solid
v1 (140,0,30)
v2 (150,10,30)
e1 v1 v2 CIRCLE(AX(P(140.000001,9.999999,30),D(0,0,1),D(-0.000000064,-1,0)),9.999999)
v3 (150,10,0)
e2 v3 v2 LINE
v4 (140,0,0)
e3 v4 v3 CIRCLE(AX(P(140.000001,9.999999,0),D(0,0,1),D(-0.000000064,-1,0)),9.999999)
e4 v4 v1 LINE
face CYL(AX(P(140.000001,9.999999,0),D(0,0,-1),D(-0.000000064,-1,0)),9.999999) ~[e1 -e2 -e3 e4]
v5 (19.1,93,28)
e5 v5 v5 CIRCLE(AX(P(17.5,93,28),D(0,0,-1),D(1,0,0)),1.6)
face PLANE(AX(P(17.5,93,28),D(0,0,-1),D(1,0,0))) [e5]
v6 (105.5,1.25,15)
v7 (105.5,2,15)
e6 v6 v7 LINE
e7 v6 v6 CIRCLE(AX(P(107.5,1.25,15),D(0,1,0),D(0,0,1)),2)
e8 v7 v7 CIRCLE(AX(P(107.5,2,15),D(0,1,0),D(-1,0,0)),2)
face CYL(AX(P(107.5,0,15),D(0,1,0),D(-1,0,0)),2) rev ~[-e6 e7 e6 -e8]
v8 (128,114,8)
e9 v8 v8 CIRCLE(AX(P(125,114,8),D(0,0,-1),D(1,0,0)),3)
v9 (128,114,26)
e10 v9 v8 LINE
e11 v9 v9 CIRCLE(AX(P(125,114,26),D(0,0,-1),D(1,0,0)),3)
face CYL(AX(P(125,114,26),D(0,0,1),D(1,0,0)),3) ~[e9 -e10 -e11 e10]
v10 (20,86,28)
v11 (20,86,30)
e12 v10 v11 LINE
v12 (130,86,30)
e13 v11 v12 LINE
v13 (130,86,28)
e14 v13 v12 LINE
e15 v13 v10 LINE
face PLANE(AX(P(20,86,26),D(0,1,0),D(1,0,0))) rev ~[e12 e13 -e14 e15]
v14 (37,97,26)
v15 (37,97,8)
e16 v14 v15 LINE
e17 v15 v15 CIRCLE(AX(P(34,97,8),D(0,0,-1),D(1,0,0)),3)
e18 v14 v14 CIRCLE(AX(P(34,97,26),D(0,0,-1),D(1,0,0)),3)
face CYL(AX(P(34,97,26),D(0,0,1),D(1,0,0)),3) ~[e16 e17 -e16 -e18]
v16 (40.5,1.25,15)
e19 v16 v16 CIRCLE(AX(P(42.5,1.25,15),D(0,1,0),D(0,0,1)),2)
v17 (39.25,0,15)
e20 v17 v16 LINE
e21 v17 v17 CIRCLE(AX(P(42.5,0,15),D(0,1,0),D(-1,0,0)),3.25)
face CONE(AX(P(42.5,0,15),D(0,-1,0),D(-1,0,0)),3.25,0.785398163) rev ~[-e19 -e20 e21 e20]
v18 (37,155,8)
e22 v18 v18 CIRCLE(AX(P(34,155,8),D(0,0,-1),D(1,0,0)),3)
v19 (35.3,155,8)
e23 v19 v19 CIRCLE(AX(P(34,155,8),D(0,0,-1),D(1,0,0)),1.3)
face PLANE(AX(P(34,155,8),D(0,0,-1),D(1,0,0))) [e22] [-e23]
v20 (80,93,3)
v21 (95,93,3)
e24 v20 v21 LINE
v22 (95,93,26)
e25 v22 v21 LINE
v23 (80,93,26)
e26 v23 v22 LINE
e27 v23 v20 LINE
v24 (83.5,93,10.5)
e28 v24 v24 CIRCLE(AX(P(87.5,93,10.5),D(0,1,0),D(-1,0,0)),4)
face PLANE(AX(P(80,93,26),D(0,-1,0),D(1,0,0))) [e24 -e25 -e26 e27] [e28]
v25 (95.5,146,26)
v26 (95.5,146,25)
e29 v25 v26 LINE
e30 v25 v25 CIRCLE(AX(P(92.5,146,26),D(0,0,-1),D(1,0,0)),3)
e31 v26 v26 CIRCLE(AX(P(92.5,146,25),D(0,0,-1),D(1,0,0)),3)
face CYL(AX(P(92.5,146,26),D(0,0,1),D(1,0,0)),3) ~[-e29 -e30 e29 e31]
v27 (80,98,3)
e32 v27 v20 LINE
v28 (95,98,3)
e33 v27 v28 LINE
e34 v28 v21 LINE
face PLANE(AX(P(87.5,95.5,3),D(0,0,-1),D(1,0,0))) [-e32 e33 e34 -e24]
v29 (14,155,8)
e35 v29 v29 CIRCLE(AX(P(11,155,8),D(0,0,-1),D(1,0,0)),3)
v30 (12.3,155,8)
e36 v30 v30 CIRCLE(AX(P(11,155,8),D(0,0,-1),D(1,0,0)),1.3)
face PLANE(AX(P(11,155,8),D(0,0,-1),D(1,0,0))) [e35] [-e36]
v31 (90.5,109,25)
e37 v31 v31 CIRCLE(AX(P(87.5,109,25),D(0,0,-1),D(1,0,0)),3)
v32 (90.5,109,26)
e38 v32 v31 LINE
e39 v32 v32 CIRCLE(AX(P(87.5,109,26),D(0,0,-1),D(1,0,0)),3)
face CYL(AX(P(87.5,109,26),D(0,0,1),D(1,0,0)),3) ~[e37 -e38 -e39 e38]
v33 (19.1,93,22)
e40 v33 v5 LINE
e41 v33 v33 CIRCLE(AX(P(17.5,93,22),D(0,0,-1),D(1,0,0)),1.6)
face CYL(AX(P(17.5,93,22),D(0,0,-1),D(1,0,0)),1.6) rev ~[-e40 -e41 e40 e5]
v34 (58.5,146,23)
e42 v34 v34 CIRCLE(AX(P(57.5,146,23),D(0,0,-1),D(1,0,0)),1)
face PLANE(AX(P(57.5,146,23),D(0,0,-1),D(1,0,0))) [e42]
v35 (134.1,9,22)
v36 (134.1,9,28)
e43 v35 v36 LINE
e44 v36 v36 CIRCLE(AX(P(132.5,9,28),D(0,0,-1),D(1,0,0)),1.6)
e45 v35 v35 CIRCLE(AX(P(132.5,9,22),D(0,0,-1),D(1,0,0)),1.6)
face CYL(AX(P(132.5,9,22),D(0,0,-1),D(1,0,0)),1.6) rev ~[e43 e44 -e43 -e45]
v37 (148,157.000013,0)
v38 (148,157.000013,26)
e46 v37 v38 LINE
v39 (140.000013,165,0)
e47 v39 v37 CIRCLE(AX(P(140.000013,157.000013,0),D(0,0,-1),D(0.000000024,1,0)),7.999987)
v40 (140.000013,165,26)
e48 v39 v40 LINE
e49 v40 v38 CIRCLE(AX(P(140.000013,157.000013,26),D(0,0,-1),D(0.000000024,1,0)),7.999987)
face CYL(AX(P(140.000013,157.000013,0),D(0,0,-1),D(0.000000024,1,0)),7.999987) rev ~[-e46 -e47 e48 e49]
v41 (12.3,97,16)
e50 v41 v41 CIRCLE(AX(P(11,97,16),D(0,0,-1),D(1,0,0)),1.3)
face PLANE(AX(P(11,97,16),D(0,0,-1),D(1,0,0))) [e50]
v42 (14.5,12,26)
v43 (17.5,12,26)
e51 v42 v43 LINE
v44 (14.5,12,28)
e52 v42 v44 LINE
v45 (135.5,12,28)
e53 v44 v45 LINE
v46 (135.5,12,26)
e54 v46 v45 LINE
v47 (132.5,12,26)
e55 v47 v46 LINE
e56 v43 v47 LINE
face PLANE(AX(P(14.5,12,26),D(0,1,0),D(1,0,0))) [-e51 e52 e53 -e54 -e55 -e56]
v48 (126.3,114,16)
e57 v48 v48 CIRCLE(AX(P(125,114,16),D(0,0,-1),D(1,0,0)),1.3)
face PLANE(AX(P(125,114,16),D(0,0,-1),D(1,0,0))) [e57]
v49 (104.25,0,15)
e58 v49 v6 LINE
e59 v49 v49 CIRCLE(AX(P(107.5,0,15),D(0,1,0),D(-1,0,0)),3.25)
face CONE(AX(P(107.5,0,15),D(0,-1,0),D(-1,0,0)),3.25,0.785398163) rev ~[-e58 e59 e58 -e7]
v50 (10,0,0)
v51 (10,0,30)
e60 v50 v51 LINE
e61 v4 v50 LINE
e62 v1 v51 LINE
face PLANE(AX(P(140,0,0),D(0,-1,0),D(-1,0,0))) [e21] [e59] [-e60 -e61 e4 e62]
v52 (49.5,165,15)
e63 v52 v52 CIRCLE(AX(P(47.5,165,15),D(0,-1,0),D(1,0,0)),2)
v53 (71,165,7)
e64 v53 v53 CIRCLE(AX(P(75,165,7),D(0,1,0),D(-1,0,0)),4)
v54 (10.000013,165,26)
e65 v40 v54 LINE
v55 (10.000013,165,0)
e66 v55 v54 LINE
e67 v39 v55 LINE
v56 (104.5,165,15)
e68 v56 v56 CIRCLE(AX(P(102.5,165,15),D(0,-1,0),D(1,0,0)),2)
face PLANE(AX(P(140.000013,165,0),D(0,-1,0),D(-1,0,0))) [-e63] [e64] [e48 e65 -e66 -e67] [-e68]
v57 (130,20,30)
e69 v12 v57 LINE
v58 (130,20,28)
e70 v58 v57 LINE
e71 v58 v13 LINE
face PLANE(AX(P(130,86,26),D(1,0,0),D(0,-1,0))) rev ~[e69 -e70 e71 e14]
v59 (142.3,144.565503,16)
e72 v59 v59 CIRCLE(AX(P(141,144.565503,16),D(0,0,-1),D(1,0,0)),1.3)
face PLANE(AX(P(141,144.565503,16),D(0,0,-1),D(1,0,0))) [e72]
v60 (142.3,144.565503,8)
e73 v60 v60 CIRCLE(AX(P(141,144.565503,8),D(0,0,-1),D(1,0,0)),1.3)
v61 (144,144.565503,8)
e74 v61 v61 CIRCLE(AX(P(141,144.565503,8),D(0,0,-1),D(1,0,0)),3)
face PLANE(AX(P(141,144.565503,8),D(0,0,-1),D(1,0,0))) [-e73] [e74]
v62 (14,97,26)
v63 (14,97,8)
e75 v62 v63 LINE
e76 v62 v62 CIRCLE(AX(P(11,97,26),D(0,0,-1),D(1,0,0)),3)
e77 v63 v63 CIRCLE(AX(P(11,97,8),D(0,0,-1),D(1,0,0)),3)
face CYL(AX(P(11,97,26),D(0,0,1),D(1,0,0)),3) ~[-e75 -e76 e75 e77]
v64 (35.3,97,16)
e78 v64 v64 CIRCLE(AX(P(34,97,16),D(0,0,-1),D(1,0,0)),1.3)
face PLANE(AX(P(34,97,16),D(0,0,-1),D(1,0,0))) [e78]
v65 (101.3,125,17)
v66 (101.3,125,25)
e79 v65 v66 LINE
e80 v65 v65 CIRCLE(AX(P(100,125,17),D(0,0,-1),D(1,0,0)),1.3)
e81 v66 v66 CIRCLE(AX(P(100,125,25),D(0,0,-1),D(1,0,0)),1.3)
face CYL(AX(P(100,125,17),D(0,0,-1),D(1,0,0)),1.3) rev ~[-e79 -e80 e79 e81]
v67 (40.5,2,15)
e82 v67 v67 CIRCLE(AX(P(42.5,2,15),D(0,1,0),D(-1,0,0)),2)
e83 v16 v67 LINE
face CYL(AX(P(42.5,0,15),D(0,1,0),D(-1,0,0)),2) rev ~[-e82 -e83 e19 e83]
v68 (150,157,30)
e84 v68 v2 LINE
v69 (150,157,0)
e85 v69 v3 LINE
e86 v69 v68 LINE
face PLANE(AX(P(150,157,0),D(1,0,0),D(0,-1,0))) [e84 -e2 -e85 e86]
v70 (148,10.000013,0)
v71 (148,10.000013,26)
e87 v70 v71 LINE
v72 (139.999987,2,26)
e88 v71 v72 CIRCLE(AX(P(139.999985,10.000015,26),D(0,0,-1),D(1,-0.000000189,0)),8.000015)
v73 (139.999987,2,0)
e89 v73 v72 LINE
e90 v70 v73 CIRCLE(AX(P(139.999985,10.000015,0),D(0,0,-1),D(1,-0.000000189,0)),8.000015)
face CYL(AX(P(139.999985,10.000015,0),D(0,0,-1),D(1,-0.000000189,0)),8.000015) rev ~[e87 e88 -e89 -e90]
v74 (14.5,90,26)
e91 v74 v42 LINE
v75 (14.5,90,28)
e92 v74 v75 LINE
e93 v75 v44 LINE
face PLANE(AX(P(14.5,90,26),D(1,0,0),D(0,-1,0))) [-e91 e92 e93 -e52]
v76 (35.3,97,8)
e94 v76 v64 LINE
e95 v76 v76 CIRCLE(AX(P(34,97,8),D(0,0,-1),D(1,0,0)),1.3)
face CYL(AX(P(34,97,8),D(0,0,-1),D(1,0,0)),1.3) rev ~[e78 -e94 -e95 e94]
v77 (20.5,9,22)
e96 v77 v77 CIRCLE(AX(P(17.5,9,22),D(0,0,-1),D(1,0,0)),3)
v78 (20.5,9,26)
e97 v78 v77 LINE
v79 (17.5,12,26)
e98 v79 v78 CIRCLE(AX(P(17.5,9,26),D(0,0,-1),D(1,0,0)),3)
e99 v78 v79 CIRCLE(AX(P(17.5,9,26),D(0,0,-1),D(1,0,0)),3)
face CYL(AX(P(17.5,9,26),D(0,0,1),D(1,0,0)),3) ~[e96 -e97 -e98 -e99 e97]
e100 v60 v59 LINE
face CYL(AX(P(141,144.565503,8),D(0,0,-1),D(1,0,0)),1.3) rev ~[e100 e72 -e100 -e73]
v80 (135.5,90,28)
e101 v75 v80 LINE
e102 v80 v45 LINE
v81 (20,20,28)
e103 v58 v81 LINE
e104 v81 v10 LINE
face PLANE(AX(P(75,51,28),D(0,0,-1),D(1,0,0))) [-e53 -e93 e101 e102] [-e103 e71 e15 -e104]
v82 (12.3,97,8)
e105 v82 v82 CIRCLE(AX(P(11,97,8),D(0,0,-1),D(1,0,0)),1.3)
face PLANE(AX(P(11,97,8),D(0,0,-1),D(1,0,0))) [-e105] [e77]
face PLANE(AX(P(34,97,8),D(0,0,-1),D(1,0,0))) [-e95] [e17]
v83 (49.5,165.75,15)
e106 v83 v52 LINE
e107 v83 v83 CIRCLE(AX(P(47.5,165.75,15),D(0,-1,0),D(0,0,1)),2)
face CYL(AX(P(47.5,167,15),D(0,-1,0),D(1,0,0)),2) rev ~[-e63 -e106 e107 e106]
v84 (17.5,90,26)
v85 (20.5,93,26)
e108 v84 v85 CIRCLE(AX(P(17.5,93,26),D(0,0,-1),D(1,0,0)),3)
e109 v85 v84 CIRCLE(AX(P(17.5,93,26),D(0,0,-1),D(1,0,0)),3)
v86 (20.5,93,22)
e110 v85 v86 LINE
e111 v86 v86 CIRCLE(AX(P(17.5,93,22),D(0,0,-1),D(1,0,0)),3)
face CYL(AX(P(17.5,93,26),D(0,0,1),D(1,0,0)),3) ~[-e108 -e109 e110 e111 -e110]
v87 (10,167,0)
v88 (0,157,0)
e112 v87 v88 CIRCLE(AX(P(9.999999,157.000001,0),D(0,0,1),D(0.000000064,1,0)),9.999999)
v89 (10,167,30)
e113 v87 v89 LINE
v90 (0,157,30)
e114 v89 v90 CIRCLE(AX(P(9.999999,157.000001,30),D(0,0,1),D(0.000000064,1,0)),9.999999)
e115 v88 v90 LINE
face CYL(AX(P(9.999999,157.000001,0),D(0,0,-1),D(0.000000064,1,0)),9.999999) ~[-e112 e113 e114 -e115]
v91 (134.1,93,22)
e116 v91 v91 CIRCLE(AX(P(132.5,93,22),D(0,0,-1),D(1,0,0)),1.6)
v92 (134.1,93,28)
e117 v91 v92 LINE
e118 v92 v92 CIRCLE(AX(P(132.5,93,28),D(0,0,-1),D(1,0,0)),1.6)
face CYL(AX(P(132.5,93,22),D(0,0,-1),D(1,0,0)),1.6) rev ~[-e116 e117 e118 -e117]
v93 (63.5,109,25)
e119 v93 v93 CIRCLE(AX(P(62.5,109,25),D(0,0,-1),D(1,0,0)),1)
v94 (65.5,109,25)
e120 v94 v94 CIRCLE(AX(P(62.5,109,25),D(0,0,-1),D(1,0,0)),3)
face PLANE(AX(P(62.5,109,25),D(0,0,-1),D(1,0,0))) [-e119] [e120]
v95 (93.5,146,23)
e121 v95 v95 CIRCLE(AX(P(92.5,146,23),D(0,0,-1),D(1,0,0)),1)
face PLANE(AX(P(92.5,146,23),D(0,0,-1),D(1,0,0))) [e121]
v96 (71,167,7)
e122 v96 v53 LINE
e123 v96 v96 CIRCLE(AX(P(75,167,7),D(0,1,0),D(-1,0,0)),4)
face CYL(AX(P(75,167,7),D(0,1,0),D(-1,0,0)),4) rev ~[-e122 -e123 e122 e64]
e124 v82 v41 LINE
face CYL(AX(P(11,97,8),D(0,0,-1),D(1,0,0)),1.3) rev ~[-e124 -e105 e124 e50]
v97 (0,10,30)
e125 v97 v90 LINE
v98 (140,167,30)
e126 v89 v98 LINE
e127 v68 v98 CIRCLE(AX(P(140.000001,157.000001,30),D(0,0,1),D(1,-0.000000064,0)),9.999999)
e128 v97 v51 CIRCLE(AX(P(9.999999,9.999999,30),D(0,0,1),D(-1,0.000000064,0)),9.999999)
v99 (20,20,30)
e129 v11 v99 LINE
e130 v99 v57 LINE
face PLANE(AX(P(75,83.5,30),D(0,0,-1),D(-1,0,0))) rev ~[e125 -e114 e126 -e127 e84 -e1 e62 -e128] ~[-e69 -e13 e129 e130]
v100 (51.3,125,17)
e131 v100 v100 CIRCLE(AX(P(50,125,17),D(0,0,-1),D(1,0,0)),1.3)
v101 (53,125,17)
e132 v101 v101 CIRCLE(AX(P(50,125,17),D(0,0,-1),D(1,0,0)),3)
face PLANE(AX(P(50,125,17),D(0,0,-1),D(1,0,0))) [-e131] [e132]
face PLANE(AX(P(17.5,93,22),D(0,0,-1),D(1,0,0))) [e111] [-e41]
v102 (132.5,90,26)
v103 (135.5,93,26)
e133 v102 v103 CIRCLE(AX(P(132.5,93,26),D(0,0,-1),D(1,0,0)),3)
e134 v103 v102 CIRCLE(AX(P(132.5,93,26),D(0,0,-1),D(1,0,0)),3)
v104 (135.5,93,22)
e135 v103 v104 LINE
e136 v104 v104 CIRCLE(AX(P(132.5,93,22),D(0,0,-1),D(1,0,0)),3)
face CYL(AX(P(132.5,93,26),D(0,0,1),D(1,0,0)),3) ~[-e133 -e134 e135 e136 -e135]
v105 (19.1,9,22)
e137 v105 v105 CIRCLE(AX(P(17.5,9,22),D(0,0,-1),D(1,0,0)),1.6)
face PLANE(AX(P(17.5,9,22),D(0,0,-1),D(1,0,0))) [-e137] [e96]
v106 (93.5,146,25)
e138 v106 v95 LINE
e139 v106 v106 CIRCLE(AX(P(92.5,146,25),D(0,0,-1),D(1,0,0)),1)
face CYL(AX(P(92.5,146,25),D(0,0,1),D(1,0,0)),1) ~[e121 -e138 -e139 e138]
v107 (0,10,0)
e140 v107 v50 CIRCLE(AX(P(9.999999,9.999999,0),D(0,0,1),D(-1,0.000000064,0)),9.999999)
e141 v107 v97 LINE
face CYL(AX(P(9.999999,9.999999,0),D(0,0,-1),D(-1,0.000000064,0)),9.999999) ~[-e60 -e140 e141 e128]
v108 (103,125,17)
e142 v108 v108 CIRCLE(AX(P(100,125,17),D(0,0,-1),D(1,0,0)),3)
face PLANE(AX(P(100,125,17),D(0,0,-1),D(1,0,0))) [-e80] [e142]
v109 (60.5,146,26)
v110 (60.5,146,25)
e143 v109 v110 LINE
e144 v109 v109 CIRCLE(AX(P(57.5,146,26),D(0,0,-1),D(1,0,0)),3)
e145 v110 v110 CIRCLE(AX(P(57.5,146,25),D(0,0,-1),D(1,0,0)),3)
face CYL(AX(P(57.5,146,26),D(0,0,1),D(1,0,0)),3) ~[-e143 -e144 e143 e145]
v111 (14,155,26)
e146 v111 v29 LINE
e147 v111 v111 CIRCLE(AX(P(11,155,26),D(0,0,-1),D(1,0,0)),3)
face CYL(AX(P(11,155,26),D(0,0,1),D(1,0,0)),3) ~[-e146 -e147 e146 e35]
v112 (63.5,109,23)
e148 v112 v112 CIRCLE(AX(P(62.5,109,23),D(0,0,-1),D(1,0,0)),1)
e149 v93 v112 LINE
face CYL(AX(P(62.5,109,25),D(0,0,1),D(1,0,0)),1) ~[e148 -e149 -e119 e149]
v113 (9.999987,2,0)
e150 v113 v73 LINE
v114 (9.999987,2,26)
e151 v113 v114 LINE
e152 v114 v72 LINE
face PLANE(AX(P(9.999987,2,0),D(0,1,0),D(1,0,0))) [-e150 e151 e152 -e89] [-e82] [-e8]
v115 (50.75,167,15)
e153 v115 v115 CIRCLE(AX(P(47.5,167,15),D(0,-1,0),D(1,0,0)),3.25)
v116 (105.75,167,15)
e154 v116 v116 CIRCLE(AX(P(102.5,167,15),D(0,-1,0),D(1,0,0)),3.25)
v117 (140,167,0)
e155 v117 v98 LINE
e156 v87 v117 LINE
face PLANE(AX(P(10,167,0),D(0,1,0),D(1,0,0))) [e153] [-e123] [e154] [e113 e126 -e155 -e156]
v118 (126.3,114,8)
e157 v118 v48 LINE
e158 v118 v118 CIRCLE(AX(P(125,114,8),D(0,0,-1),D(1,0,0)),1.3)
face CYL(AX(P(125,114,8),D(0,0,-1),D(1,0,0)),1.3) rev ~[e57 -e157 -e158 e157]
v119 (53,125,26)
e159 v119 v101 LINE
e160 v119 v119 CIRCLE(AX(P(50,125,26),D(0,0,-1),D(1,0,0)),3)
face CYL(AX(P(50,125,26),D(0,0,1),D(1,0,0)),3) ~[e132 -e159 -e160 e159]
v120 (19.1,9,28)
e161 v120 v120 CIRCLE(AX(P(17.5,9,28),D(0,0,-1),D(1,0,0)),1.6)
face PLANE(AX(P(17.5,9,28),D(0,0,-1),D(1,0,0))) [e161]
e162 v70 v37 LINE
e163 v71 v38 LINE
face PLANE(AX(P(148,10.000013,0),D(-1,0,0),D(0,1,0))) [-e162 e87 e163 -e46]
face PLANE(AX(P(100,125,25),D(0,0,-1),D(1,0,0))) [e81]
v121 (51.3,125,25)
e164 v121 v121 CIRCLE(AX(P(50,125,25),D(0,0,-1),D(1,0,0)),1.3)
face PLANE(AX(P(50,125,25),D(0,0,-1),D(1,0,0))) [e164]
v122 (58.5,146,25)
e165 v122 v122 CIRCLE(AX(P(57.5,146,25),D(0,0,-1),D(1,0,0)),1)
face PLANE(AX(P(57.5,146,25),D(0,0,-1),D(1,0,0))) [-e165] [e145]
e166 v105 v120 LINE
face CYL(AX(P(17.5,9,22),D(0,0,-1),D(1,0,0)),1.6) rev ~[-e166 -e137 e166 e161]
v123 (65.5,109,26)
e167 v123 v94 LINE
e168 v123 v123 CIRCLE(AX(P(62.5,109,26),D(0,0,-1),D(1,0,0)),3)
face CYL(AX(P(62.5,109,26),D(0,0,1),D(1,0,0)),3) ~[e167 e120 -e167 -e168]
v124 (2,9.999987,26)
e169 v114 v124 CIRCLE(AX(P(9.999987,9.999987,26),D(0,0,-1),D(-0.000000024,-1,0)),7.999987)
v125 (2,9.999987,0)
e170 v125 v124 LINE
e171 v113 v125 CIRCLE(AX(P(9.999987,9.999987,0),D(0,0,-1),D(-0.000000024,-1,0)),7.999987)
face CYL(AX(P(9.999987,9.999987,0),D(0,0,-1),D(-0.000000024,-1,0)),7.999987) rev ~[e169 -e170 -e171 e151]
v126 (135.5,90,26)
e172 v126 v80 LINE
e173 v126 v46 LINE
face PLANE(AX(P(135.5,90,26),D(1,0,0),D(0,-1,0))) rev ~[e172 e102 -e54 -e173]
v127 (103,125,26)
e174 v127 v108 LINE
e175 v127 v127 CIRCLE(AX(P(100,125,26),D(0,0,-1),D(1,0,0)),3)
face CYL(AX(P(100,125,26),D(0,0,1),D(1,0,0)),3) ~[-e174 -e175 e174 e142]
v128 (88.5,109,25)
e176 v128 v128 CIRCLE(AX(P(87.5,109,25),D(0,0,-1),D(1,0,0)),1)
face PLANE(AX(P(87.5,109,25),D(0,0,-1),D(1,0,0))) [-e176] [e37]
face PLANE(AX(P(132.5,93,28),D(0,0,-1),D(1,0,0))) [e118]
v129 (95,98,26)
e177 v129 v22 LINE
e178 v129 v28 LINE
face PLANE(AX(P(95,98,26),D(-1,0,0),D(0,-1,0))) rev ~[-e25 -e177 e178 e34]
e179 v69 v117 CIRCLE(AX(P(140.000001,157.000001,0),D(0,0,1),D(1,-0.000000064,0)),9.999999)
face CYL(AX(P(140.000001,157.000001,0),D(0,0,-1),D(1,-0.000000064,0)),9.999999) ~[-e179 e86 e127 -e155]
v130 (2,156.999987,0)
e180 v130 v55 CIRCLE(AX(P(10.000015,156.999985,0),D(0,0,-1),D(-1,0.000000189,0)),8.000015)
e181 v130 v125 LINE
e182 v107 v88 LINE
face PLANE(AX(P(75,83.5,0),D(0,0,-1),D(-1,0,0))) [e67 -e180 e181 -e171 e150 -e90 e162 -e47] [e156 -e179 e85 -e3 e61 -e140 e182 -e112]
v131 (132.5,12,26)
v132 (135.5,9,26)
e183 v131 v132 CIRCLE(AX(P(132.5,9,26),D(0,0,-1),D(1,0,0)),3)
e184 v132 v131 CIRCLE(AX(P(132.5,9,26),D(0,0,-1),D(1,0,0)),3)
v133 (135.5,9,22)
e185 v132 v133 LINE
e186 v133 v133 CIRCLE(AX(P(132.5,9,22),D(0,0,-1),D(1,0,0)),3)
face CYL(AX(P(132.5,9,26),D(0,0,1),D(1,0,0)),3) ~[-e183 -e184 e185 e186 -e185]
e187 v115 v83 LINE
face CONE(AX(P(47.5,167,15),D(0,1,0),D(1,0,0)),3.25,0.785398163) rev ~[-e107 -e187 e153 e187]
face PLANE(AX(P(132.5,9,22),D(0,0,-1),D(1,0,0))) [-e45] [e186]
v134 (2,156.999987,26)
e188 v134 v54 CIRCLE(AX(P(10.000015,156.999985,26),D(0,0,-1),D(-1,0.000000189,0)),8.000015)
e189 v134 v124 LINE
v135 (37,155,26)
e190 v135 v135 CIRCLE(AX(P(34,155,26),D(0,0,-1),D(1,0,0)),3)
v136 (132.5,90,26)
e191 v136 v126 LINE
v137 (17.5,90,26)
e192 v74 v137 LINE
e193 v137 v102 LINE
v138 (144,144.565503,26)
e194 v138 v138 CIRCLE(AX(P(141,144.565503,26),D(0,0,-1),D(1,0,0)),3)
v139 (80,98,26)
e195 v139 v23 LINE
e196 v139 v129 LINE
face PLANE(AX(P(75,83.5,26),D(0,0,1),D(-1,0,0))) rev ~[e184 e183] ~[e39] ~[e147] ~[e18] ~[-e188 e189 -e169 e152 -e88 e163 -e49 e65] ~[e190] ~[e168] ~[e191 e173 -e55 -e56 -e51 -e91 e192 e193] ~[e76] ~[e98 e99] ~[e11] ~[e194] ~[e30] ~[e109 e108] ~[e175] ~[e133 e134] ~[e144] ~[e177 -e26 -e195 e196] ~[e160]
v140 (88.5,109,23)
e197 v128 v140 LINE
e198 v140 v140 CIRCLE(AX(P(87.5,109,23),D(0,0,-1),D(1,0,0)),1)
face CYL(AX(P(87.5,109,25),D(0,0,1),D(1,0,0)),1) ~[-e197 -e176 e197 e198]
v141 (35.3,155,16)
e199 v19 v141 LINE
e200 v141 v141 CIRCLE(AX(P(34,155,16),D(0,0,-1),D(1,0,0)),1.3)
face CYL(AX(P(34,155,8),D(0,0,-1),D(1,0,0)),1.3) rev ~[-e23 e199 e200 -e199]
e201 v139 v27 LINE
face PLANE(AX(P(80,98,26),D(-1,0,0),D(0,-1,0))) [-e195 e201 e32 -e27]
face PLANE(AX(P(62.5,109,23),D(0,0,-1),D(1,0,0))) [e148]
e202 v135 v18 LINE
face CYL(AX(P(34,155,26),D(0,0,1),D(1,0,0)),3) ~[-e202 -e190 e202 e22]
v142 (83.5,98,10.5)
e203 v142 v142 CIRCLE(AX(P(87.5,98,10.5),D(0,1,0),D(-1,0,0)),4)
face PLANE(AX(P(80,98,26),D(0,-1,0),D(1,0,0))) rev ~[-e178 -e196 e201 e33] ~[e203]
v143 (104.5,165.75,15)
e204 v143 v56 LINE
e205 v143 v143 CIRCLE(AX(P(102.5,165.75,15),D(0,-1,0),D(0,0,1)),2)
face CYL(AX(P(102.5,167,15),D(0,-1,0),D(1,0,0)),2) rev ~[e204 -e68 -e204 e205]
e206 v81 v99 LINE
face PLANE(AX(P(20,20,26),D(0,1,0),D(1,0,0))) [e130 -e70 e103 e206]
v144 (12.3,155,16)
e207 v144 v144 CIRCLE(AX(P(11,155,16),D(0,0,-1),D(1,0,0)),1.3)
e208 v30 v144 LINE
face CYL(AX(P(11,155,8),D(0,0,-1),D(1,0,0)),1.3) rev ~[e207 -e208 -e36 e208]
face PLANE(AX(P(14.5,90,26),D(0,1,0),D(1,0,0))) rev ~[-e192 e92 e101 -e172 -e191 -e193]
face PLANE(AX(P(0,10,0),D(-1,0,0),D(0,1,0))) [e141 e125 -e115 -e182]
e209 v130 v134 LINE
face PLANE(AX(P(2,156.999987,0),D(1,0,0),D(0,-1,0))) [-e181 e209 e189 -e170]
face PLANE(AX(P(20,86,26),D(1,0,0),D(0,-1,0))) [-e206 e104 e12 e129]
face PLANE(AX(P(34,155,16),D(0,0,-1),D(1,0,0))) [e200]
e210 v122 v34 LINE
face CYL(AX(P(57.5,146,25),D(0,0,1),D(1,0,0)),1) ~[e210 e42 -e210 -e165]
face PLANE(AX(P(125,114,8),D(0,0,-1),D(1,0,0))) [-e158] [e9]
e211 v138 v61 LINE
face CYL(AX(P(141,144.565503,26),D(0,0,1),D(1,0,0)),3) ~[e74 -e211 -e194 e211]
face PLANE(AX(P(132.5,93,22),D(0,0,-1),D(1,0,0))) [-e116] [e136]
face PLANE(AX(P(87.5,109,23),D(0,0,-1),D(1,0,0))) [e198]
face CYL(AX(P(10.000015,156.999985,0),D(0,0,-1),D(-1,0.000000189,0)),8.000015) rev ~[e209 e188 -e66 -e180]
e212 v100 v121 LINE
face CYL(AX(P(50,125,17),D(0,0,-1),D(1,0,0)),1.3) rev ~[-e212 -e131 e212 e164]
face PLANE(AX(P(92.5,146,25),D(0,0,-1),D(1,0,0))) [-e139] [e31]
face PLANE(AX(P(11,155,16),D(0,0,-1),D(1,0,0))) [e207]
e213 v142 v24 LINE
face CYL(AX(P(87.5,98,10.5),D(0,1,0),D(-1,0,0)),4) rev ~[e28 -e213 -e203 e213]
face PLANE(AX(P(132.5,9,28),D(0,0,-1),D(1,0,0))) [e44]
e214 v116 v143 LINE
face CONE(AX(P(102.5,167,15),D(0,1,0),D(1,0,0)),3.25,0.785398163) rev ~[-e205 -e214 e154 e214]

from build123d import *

# Parameters (mm, degrees)
PAD_DEPTH           = 30
POCKET_DEPTH        = 26
SKETCH002_W         = 110
SKETCH002_H         = 66
POCKET001_DEPTH     = 5
SKETCH003_W         = 121
SKETCH003_H         = 78
POCKET002_DEPTH     = 2
SKETCH004_R         = 3
PAD001_DEPTH        = 4
SKETCH005_R         = 1.6
POCKET003_DEPTH     = 6
SKETCH006_R         = 3
PAD002_DEPTH        = 18
SKETCH007_R         = 1.3
POCKET004_DEPTH     = 8
SKETCH008_R         = 3
PAD003_DEPTH        = 1
SKETCH009_R         = 1
PAD004_DEPTH        = 2
SKETCH010_R         = 3
PAD005_DEPTH        = 9
SKETCH011_R         = 1.3
POCKET005_DEPTH     = 8
HOLE_D              = 4
HOLE_DEPTH          = 23.798279
HOLE_CSINK_D        = 6.5
HOLE_CSINK_ANGLE    = 90
HOLE_TIPS_R         = 2
HOLE001_D           = 4
HOLE001_DEPTH       = 23.798279
HOLE001_CSINK_D     = 6.5
HOLE001_CSINK_ANGLE = 90
HOLE001_TIPS_R      = 2
SKETCH014_R         = 4
POCKET006_DEPTH     = 5
SKETCH015_W         = 15
SKETCH015_H         = 5
PAD006_DEPTH        = 23
SKETCH016_R         = 4
POCKET007_DEPTH     = 5


with BuildPart() as part:
    # Sketch001 → Pad (new body)
    with BuildSketch(Plane.XY):
        with BuildLine():
            Line((10, 167), (140, 167))
            ThreePointArc((150, 157), (147.071068, 164.071068), (140, 167))
            Line((150, 157), (150, 10))
            ThreePointArc((140, 0), (147.071068, 2.928932), (150, 10))
            Line((140, 0), (10, 0))
            ThreePointArc((0, 10), (2.928932, 2.928932), (10, 0))
            Line((0, 10), (0, 157))
            ThreePointArc((10, 167), (2.928932, 164.071068), (0, 157))
        make_face()
    extrude(amount=PAD_DEPTH)

    # Sketch (on Face9 of Pad) → Pocket (cut)
    with BuildSketch(Plane(origin=(0, 0, 0), x_dir=(1, 0, 0), z_dir=(0, 0, -1))):
        with BuildLine():
            Line((9.999987, -2), (139.999987, -2))
            ThreePointArc((148, -10.000013), (145.65685, -4.34315), (139.999987, -2))
            Line((148, -10.000013), (148, -157.000013))
            ThreePointArc((140.000013, -165), (145.656858, -162.656858), (148, -157.000013))
            Line((140.000013, -165), (10.000013, -165))
            ThreePointArc((2, -156.999987), (4.34315, -162.65685), (10.000013, -165))
            Line((2, -156.999987), (2, -9.999987))
            ThreePointArc((9.999987, -2), (4.343142, -4.343142), (2, -9.999987))
        make_face()
    extrude(amount=-POCKET_DEPTH, mode=Mode.SUBTRACT)

    # Sketch002 (on Face19 of Pocket) → Pocket001 (cut)
    with BuildSketch(Plane(origin=(0, 0, 26), x_dir=(1, 0, 0), z_dir=(0, 0, -1))):
        with Locations((75, -53)):
            Rectangle(SKETCH002_W, SKETCH002_H)
    extrude(amount=-POCKET001_DEPTH, mode=Mode.SUBTRACT)

    # Sketch003 (on Face23 of Pocket001) → Pocket002 (cut)
    with BuildSketch(Plane(origin=(0, 0, 26), x_dir=(1, 0, 0), z_dir=(0, 0, -1))):
        with Locations((75, -51)):
            Rectangle(SKETCH003_W, SKETCH003_H)
    extrude(amount=-POCKET002_DEPTH, mode=Mode.SUBTRACT)

    # Sketch004 (on Face23 of Pocket002) → Pad001 (join)
    with BuildSketch(Plane(origin=(0, 0, 26), x_dir=(1, 0, 0), z_dir=(0, 0, -1))):
        with Locations((17.5, -9)):
            Circle(SKETCH004_R)
        with Locations((132.5, -9)):
            Circle(SKETCH004_R)
        with Locations((132.5, -93)):
            Circle(SKETCH004_R)
        with Locations((17.5, -93)):
            Circle(SKETCH004_R)
    extrude(amount=PAD001_DEPTH)

    # Sketch005 (on Face36 of Pad001) → Pocket003 (cut)
    with BuildSketch(Plane(origin=(0, 0, 22), x_dir=(1, 0, 0), z_dir=(0, 0, -1))):
        with Locations((17.5, -9)):
            Circle(SKETCH005_R)
        with Locations((132.5, -9)):
            Circle(SKETCH005_R)
        with Locations((17.5, -93)):
            Circle(SKETCH005_R)
        with Locations((132.5, -93)):
            Circle(SKETCH005_R)
    extrude(amount=-POCKET003_DEPTH, mode=Mode.SUBTRACT)

    # Sketch006 (on Face23 of Pocket003) → Pad002 (join)
    with BuildSketch(Plane(origin=(0, 0, 26), x_dir=(1, 0, 0), z_dir=(0, 0, -1))):
        with Locations((11, -97)):
            Circle(SKETCH006_R)
        with Locations((34, -97)):
            Circle(SKETCH006_R)
        with Locations((11, -155)):
            Circle(SKETCH006_R)
        with Locations((34, -155)):
            Circle(SKETCH006_R)
        with Locations((125, -114)):
            Circle(SKETCH006_R)
        with Locations((141, -144.565503)):
            Circle(SKETCH006_R)
    extrude(amount=PAD002_DEPTH)

    # Sketch007 (on Face39 of Pad002) → Pocket004 (cut)
    with BuildSketch(Plane(origin=(0, 0, 8), x_dir=(1, 0, 0), z_dir=(0, 0, -1))):
        with Locations((11, -97)):
            Circle(SKETCH007_R)
        with Locations((34, -97)):
            Circle(SKETCH007_R)
        with Locations((11, -155)):
            Circle(SKETCH007_R)
        with Locations((34, -155)):
            Circle(SKETCH007_R)
        with Locations((125, -114)):
            Circle(SKETCH007_R)
        with Locations((141, -144.565503)):
            Circle(SKETCH007_R)
    extrude(amount=-POCKET004_DEPTH, mode=Mode.SUBTRACT)

    # Sketch008 (on Face23 of Pocket004) → Pad003 (join)
    with BuildSketch(Plane(origin=(0, 0, 26), x_dir=(1, 0, 0), z_dir=(0, 0, -1))):
        with Locations((62.5, -109)):
            Circle(SKETCH008_R)
        with Locations((87.5, -109)):
            Circle(SKETCH008_R)
        with Locations((57.5, -146)):
            Circle(SKETCH008_R)
        with Locations((92.5, -146)):
            Circle(SKETCH008_R)
    extrude(amount=PAD003_DEPTH)

    # Sketch009 (on Face46 of Pad003) → Pad004 (join)
    with BuildSketch(Plane(origin=(0, 0, 25), x_dir=(1, 0, 0), z_dir=(0, 0, -1))):
        with Locations((62.5, -109)):
            Circle(SKETCH009_R)
        with Locations((92.5, -146)):
            Circle(SKETCH009_R)
        with Locations((87.5, -109)):
            Circle(SKETCH009_R)
        with Locations((57.5, -146)):
            Circle(SKETCH009_R)
    extrude(amount=PAD004_DEPTH)

    # Sketch010 (on Face23 of Pad004) → Pad005 (join)
    with BuildSketch(Plane(origin=(0, 0, 26), x_dir=(1, 0, 0), z_dir=(0, 0, -1))):
        with Locations((50, -125)):
            Circle(SKETCH010_R)
        with Locations((100, -125)):
            Circle(SKETCH010_R)
    extrude(amount=PAD005_DEPTH)

    # Sketch011 (on Face53 of Pad005) → Pocket005 (cut)
    with BuildSketch(Plane(origin=(0, 0, 17), x_dir=(1, 0, 0), z_dir=(0, 0, -1))):
        with Locations((100, -125)):
            Circle(SKETCH011_R)
        with Locations((50, -125)):
            Circle(SKETCH011_R)
    extrude(amount=-POCKET005_DEPTH, mode=Mode.SUBTRACT)

    # Hole
    with Locations(Plane(origin=(0, 167, 0), x_dir=(-1, 0, 0), z_dir=(0, 1, 0))):
        with Locations((-47.5, 15), (-102.5, 15)):
            CounterSinkHole(HOLE_D / 2, HOLE_CSINK_D / 2, depth=HOLE_DEPTH, counter_sink_angle=HOLE_CSINK_ANGLE)

    # Hole tips → Hole tip 1 section 0
    with BuildSketch(Plane(origin=(0, 143.201721, 0), x_dir=(-1, 0, 0), z_dir=(0, 1, 0)), mode=Mode.PRIVATE) as hole_tip_1_s0:
        with Locations((-47.5, 15)):
            Circle(HOLE_TIPS_R)
    loft([hole_tip_1_s0.sketch, Vertex(47.5, 142, 15)], mode=Mode.SUBTRACT)

    # Hole tips → Hole tip 2 section 0
    with BuildSketch(Plane(origin=(0, 143.201721, 0), x_dir=(-1, 0, 0), z_dir=(0, 1, 0)), mode=Mode.PRIVATE) as hole_tip_2_s0:
        with Locations((-102.5, 15)):
            Circle(HOLE_TIPS_R)
    loft([hole_tip_2_s0.sketch, Vertex(102.5, 142, 15)], mode=Mode.SUBTRACT)

    # Hole001
    with Locations(Plane.XZ):
        with Locations((42.5, 15), (107.5, 15)):
            CounterSinkHole(HOLE001_D / 2, HOLE001_CSINK_D / 2, depth=HOLE001_DEPTH, counter_sink_angle=HOLE001_CSINK_ANGLE)

    # Hole001 tips → Hole001 tip 1 section 0
    with BuildSketch(Plane.XZ.offset(-23.798279), mode=Mode.PRIVATE) as hole001_tip_1_s0:
        with Locations((42.5, 15)):
            Circle(HOLE001_TIPS_R)
    loft([hole001_tip_1_s0.sketch, Vertex(42.5, 25, 15)], mode=Mode.SUBTRACT)

    # Hole001 tips → Hole001 tip 2 section 0
    with BuildSketch(Plane.XZ.offset(-23.798279), mode=Mode.PRIVATE) as hole001_tip_2_s0:
        with Locations((107.5, 15)):
            Circle(HOLE001_TIPS_R)
    loft([hole001_tip_2_s0.sketch, Vertex(107.5, 25, 15)], mode=Mode.SUBTRACT)

    # Sketch014 (on Face7 of Hole001) → Pocket006 (cut)
    with BuildSketch(Plane(origin=(0, 167, 0), x_dir=(-1, 0, 0), z_dir=(0, 1, 0))):
        with Locations((-75, 7)):
            Circle(SKETCH014_R)
    extrude(amount=-POCKET006_DEPTH, mode=Mode.SUBTRACT)

    # Sketch015 (on Face28 of Pocket006) → Pad006 (join)
    with BuildSketch(Plane(origin=(0, 0, 26), x_dir=(1, 0, 0), z_dir=(0, 0, -1))):
        with Locations((87.5, -95.5)):
            Rectangle(SKETCH015_W, SKETCH015_H)
    extrude(amount=PAD006_DEPTH)

    # Sketch016 (on Face39 of Pad006) → Pocket007 (cut)
    with BuildSketch(Plane(origin=(0, 98, 0), x_dir=(-1, 0, 0), z_dir=(0, 1, 0))):
        with Locations((-87.5, 10.5)):
            Circle(SKETCH016_R)
    extrude(amount=-POCKET007_DEPTH, mode=Mode.SUBTRACT)


solid = part.part
